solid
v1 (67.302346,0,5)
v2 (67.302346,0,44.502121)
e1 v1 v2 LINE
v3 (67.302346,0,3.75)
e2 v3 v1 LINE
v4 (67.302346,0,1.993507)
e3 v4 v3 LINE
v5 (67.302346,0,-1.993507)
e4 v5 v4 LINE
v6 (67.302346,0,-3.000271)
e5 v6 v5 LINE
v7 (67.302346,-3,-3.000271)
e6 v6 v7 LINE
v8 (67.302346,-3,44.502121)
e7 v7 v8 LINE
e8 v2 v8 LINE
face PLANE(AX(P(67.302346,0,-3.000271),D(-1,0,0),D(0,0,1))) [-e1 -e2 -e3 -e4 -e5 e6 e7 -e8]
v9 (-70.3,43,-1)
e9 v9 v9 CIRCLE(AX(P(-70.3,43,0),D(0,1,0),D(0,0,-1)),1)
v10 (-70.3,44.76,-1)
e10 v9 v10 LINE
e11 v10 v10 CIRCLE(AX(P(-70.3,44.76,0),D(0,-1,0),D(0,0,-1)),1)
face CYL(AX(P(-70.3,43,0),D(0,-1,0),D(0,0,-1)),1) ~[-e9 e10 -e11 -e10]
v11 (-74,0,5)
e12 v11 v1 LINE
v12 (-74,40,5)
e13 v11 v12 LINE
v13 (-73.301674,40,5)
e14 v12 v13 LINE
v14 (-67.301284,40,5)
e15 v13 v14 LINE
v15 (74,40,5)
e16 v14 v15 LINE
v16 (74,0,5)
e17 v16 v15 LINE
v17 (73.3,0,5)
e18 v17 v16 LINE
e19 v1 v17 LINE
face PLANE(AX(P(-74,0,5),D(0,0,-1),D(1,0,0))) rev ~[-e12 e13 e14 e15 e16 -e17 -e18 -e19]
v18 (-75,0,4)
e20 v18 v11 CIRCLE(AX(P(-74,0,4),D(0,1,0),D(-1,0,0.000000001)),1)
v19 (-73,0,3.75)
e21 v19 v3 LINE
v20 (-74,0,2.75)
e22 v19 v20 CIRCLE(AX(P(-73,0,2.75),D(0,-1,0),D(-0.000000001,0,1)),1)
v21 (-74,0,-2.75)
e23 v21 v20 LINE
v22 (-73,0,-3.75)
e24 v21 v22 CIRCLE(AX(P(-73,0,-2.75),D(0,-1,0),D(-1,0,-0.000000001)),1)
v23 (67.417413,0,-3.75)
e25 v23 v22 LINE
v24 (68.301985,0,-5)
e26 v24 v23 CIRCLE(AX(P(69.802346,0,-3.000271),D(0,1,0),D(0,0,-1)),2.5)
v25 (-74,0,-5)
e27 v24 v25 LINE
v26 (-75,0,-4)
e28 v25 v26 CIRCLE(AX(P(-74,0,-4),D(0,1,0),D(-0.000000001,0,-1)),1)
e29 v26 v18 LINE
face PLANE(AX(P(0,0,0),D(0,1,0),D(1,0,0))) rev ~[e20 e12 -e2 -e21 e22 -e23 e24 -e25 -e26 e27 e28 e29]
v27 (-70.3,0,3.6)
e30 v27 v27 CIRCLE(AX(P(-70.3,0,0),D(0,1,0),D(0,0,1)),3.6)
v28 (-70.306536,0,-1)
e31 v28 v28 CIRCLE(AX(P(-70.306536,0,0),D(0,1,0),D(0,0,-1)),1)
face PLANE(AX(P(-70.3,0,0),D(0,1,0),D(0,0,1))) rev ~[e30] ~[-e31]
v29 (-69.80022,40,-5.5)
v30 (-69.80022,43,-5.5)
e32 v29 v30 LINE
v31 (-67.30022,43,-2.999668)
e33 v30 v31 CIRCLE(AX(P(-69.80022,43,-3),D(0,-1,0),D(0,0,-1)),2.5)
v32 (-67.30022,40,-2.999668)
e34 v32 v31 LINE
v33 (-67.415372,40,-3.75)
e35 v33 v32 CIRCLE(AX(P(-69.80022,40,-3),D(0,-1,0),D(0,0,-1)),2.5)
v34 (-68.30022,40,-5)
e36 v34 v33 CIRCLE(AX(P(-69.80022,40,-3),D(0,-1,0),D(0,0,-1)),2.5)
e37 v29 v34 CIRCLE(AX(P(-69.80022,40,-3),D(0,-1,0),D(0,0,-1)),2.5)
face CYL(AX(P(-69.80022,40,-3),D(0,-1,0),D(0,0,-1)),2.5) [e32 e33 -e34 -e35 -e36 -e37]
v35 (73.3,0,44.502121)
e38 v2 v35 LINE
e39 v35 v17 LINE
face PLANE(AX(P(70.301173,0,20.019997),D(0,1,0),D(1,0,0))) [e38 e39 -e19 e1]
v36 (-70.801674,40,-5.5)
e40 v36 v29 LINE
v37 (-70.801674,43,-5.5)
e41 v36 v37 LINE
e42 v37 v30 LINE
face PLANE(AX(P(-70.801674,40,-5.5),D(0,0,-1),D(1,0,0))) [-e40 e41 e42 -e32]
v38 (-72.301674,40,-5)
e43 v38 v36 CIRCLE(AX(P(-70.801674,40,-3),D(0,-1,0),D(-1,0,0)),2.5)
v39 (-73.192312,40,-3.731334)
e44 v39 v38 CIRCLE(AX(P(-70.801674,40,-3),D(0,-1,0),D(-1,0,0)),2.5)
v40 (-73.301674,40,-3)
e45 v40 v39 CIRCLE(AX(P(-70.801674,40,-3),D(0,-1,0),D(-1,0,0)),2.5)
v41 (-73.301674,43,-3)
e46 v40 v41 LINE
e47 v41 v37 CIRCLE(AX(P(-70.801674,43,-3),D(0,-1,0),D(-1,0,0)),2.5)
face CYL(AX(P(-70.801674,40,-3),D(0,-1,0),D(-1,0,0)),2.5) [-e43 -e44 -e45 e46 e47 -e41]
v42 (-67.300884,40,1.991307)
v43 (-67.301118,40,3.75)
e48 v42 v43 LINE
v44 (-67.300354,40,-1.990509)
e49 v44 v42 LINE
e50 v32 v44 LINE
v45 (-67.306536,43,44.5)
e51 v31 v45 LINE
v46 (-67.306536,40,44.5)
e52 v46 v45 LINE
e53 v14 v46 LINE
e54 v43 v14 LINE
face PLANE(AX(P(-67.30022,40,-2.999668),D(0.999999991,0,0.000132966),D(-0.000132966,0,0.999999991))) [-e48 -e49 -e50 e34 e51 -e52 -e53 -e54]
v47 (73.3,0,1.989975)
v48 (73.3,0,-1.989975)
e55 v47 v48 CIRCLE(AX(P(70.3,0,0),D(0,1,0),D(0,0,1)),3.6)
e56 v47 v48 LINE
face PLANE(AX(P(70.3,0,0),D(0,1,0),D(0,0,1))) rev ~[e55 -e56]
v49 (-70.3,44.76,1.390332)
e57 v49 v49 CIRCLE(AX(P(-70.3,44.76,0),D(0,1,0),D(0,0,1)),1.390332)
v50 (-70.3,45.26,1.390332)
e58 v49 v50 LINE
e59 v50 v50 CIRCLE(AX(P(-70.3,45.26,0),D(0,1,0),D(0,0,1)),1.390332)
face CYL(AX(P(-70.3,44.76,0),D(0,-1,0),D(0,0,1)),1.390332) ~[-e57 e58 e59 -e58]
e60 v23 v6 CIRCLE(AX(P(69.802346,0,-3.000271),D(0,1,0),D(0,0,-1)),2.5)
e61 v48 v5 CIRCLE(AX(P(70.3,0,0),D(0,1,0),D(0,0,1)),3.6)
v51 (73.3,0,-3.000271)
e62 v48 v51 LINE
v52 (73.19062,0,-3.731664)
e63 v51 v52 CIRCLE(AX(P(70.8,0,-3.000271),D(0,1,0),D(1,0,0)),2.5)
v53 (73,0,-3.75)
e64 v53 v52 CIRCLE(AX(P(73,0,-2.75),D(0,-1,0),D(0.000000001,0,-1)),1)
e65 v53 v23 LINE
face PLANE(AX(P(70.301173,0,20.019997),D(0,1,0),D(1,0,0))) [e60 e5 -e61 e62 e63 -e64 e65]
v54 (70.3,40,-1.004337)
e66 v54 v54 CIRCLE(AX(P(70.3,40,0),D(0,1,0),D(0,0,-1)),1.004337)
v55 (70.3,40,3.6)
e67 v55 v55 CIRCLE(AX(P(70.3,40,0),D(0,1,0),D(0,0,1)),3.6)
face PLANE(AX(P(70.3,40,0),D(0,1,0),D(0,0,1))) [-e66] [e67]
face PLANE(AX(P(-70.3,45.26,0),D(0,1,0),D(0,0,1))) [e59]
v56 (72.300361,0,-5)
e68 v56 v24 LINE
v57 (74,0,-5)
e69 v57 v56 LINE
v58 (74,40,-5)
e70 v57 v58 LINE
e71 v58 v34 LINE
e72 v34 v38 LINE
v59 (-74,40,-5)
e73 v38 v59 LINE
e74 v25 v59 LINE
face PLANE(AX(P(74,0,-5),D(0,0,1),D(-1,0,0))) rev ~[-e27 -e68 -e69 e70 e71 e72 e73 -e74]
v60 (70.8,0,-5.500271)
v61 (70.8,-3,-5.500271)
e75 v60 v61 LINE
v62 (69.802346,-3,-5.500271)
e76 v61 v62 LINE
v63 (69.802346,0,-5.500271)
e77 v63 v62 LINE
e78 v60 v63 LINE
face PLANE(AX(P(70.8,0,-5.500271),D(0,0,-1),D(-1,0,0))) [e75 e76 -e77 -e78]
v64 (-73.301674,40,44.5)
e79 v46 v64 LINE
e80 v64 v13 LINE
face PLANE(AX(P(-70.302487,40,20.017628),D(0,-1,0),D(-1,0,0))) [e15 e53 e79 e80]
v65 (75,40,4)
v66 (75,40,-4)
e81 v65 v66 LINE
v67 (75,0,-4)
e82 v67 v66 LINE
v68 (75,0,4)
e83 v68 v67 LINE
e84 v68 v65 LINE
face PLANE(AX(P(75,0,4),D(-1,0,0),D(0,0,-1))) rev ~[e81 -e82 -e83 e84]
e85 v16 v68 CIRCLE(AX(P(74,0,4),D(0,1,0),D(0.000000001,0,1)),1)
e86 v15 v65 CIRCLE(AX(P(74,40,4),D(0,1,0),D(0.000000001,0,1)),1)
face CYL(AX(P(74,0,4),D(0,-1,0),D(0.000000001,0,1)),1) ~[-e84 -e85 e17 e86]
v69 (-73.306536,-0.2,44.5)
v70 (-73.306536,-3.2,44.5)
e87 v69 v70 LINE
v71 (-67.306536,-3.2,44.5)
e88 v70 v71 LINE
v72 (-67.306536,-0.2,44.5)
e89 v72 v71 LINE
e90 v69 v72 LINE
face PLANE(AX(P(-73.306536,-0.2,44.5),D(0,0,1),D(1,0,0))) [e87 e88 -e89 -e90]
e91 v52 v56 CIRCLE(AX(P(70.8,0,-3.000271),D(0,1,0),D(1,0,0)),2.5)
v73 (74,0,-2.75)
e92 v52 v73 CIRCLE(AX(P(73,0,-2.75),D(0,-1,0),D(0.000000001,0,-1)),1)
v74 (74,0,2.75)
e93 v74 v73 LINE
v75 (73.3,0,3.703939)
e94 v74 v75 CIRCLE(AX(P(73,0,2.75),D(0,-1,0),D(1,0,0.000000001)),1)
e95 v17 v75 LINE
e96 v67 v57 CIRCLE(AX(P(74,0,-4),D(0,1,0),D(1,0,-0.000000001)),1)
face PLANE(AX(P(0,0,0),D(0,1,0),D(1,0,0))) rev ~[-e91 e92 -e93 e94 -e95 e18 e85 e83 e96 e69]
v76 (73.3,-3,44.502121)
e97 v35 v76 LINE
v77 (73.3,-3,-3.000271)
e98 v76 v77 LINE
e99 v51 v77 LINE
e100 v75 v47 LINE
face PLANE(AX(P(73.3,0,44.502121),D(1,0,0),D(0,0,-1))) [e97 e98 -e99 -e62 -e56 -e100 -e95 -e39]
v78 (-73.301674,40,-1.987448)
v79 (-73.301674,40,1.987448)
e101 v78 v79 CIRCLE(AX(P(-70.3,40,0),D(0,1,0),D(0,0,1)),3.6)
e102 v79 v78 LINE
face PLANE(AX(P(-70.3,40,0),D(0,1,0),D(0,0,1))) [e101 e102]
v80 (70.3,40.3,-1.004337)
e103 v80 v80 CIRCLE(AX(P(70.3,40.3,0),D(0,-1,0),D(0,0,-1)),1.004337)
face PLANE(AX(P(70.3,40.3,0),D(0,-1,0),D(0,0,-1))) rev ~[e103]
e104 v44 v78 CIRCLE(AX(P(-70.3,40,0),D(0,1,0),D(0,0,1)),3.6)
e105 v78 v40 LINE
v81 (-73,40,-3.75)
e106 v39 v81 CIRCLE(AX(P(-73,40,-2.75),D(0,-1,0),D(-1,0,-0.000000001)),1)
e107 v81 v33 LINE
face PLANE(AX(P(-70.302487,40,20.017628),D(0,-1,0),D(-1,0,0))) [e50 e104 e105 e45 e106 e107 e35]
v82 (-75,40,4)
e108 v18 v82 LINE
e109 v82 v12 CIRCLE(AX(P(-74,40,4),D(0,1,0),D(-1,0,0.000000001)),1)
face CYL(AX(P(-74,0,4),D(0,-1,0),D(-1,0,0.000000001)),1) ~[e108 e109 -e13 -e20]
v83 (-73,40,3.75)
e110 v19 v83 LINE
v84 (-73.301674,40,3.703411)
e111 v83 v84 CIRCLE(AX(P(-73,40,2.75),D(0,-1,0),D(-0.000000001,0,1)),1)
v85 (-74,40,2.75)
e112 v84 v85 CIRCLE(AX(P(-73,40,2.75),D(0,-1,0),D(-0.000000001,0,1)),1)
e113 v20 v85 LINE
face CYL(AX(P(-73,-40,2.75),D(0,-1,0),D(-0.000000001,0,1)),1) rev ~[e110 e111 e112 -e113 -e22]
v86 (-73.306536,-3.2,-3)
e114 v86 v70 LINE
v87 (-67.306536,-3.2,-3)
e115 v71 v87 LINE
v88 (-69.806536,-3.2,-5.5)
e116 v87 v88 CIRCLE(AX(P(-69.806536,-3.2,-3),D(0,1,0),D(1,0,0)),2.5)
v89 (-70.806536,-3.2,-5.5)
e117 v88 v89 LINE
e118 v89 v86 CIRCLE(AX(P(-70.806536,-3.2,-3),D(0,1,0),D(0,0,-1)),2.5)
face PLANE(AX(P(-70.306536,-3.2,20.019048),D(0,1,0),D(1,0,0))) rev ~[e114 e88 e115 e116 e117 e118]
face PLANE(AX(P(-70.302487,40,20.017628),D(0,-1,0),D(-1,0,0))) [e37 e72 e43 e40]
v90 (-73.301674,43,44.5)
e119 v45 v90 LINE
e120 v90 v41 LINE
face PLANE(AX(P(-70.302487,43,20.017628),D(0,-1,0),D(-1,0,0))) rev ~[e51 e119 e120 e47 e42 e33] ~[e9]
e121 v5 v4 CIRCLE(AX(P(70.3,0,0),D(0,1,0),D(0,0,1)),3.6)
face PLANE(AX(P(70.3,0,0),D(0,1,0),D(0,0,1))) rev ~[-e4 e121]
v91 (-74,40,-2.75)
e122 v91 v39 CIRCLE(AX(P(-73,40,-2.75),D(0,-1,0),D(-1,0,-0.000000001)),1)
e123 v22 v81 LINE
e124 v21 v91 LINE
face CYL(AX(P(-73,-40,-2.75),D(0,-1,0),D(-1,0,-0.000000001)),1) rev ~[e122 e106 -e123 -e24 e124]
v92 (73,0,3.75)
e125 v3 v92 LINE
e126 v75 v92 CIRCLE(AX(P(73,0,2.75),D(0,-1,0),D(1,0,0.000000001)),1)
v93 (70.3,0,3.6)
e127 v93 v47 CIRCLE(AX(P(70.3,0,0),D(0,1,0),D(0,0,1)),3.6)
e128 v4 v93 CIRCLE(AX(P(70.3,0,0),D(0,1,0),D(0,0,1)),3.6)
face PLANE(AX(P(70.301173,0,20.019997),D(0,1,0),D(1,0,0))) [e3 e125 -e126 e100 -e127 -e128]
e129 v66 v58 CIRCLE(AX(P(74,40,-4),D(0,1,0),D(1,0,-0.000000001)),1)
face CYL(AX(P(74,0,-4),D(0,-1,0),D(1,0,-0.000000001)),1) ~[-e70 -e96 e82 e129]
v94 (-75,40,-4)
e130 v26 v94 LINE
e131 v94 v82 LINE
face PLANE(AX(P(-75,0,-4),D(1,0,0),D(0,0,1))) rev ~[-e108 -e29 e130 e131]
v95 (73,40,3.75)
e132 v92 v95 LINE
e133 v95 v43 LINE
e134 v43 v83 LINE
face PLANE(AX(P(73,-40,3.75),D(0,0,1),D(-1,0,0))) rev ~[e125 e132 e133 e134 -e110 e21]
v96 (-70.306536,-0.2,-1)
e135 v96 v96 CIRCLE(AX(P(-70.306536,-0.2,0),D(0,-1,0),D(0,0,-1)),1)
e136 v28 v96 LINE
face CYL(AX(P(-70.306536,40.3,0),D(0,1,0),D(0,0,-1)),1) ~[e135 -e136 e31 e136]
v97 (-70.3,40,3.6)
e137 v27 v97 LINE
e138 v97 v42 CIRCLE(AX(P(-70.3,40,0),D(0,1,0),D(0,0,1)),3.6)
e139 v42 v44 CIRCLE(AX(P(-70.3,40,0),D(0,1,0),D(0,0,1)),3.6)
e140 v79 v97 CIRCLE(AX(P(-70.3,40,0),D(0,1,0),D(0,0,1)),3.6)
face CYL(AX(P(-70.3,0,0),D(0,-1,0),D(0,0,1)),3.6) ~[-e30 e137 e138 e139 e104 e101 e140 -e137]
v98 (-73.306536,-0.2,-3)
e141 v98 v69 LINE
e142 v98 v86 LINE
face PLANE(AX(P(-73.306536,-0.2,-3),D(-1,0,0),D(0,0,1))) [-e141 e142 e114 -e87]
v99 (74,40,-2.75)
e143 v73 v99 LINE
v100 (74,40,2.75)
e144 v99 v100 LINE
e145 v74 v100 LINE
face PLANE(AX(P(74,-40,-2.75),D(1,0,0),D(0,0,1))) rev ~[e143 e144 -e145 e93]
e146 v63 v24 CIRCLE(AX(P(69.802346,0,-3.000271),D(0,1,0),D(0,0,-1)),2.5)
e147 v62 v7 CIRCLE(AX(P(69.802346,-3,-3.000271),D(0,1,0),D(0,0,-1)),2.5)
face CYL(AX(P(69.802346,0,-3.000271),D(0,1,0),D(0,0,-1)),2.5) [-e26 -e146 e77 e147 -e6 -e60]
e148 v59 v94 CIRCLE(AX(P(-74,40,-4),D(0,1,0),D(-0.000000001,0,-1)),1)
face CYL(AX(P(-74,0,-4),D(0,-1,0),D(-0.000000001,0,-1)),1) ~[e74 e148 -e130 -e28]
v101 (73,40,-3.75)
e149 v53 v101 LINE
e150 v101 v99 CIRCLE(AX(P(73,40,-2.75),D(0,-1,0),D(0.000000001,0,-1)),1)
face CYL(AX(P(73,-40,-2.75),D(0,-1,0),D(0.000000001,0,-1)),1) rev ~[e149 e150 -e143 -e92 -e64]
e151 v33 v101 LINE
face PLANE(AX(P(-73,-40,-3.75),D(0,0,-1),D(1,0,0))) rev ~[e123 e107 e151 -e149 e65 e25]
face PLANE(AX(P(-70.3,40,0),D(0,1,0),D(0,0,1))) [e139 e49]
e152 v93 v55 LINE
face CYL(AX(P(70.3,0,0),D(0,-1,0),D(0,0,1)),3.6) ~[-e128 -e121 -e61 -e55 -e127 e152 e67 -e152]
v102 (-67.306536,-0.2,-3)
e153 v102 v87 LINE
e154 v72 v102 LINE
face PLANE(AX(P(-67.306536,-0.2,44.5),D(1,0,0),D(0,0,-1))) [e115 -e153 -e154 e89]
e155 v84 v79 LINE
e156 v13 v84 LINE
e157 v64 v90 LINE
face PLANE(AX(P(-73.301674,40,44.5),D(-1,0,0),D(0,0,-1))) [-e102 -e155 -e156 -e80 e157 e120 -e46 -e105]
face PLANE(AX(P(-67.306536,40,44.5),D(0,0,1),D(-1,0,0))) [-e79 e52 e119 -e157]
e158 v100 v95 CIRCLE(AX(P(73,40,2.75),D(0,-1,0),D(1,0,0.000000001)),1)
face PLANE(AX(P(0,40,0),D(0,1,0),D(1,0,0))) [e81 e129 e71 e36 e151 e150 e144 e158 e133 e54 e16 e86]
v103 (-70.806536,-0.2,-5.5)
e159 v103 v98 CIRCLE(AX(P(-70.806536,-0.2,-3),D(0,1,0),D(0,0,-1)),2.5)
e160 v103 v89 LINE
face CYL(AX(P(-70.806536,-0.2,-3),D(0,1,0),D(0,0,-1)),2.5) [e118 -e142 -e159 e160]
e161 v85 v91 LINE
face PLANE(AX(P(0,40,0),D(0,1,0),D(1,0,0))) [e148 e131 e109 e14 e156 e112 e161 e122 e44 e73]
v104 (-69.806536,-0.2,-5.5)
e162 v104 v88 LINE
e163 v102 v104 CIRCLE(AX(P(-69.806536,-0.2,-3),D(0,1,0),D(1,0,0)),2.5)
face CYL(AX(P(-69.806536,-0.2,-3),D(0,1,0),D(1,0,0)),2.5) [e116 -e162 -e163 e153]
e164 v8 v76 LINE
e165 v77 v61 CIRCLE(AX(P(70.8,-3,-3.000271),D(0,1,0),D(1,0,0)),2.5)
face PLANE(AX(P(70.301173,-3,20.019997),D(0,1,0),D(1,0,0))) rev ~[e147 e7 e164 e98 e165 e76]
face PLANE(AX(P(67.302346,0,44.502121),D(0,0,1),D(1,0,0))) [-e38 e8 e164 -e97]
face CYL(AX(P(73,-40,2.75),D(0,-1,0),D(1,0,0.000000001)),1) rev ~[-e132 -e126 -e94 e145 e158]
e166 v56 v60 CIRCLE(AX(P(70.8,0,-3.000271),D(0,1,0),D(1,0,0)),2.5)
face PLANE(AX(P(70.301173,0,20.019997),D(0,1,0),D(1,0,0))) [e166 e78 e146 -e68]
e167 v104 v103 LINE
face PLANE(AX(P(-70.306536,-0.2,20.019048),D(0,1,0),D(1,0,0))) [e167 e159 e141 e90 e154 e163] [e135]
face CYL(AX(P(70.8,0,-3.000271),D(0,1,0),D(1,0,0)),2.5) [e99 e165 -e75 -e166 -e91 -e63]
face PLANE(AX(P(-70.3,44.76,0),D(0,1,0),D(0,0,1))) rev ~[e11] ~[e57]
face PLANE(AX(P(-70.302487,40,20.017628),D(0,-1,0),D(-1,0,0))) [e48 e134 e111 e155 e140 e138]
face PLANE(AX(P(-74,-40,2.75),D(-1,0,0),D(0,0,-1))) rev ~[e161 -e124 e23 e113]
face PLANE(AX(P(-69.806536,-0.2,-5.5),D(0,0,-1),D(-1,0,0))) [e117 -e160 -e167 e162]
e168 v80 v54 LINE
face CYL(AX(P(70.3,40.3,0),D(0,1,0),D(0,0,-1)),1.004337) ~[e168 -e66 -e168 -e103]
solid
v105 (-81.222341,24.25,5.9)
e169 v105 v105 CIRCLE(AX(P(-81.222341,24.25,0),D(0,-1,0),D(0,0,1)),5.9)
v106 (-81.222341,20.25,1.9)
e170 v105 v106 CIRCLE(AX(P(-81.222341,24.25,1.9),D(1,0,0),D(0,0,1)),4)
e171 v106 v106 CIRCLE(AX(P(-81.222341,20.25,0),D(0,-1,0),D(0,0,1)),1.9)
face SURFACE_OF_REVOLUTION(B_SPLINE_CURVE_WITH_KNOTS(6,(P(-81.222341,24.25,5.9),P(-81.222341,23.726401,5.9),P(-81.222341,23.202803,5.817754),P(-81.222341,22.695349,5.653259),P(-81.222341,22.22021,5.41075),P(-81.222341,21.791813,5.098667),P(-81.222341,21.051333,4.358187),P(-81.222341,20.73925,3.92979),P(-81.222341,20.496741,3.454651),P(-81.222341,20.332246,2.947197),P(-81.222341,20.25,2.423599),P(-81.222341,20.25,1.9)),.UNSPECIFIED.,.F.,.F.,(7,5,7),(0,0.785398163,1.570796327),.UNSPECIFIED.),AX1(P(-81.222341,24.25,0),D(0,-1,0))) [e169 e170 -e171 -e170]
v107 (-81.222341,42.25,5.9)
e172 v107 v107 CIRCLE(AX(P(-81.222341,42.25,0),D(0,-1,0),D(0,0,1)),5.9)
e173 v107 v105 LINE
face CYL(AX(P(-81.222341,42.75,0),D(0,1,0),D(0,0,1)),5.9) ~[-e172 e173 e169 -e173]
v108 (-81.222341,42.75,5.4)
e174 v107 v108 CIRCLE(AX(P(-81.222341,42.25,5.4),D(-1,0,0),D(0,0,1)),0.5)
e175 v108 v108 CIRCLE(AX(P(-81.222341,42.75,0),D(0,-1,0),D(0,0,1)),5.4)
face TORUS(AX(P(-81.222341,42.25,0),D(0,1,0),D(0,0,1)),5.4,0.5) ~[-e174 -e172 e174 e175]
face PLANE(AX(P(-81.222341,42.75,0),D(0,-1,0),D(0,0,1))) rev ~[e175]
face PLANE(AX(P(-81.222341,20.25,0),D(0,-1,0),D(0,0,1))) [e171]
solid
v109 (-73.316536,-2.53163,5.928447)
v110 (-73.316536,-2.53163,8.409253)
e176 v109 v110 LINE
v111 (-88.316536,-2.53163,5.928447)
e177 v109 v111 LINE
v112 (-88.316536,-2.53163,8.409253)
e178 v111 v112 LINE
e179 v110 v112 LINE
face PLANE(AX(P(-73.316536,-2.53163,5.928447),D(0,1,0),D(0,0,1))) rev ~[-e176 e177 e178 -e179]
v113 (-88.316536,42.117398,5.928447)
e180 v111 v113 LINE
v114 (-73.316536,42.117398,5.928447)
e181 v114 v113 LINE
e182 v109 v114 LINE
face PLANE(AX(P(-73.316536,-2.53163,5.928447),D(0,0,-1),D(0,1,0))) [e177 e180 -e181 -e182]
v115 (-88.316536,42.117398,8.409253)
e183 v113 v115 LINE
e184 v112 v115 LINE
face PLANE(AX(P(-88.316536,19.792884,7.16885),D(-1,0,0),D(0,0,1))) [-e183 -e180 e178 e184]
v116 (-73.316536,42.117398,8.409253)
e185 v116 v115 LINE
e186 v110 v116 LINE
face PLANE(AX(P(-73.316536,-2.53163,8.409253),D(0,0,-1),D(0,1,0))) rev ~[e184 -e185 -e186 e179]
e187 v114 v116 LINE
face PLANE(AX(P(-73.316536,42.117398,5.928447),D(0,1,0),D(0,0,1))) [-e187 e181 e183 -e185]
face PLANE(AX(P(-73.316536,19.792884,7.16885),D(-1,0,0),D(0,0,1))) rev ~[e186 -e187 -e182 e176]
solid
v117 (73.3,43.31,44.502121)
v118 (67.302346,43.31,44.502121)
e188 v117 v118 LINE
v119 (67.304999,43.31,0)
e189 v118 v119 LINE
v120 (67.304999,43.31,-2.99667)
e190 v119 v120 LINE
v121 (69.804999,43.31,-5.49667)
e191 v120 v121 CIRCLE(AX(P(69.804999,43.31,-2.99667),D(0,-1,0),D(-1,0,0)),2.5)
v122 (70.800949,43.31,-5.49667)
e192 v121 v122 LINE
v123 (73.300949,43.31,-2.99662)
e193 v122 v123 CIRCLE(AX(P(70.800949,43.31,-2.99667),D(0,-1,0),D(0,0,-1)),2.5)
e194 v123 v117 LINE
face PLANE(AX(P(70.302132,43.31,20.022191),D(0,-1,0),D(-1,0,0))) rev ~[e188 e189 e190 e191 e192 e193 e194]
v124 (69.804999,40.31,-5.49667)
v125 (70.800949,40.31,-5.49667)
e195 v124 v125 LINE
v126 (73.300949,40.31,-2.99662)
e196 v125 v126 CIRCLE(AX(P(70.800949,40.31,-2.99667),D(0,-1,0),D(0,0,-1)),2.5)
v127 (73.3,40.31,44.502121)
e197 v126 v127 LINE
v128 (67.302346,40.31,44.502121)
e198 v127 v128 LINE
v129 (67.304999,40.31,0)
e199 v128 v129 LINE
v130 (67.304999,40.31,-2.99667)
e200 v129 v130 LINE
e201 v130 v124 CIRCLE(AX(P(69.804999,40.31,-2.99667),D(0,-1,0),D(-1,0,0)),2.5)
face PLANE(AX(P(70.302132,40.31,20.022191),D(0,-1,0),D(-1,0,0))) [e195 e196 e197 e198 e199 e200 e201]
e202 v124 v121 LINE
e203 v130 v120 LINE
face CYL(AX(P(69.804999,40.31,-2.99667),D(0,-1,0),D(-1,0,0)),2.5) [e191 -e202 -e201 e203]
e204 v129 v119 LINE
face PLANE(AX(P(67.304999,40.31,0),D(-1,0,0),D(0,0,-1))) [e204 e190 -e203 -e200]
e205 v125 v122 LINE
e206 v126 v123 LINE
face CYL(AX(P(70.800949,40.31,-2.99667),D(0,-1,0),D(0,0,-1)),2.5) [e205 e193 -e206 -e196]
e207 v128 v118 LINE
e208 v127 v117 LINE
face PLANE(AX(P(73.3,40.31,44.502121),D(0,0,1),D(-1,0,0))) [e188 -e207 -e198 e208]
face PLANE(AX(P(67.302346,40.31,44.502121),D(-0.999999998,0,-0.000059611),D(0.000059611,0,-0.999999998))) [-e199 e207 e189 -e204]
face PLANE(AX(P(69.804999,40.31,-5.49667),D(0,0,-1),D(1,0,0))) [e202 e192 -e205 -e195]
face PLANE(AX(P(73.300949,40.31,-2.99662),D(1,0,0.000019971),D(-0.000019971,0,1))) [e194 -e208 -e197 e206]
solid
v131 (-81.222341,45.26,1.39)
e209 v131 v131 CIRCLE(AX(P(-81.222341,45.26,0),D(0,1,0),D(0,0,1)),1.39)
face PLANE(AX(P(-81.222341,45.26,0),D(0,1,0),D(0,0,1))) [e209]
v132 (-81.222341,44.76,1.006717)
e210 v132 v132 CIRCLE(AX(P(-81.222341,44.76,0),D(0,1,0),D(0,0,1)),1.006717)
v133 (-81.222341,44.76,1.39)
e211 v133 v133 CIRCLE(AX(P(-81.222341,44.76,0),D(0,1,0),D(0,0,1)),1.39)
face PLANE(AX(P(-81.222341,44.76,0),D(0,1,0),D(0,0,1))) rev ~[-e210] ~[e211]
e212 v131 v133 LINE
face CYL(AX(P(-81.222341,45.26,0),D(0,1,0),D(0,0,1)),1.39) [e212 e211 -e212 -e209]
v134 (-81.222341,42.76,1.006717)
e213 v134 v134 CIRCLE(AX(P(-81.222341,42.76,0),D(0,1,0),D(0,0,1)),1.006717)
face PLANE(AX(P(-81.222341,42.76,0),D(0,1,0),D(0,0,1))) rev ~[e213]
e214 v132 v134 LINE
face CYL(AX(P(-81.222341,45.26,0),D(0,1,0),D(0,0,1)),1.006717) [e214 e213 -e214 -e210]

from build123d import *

# Parameters (mm, degrees)
SALIENTE_EXTRUIR1_DEPTH       = 40
CORTAR_EXTRUIR5_DEPTH         = 40
CORTAR_EXTRUIR5_DEPTH_BACK    = 40
CROQUIS6_R                    = 3.6
SALIENTE_EXTRUIR2_DEPTH       = 40
SALIENTE_EXTRUIR3_DEPTH       = 0.2
SALIENTE_EXTRUIR3_DEPTH_BACK  = 40.3
CROQUIS7_R                    = 1.004336789
CROQUIS8_R                    = 3.6
SALIENTE_EXTRUIR4_DEPTH       = 40
SALIENTE_EXTRUIR5_DEPTH       = 0.2
SALIENTE_EXTRUIR5_DEPTH_BACK  = 40.3
CROQUIS9_R                    = 1
SALIENTE_EXTRUIR7_DEPTH       = 3
SALIENTE_EXTRUIR8_DEPTH       = 3
SALIENTE_EXTRUIR9_DEPTH       = 3
SALIENTE_EXTRUIR10_DEPTH      = 3
CROQUIS15_R                   = 1
SALIENTE_EXTRUIR11_DEPTH      = 2
SALIENTE_EXTRUIR12_DEPTH      = 0.25
SALIENTE_EXTRUIR12_DEPTH_BACK = 0.25
CROQUIS16_R                   = 1.390331977
CROQUIS17_W                   = 2.480806326
CROQUIS17_H                   = 44.649028396
SALIENTE_EXTRUIR13_DEPTH      = 15
CROQUIS18_R                   = 1.39
SALIENTE_EXTRUIR14_DEPTH      = 0.5
CROQUIS19_R                   = 1.006716992
SALIENTE_EXTRUIR15_DEPTH      = 2.5
CROQUIS20_R                   = 5.9
SALIENTE_EXTRUIR17_DEPTH      = 22.5
REDONDEO2_R                   = 4
REDONDEO4_R                   = 0.5


with BuildPart() as part:
    # Croquis1 → Saliente-Extruir1 (new body)
    with BuildSketch(Plane(origin=(0, 0, 0), x_dir=(1, 0, 0), z_dir=(0, 1, 0))):
        with BuildLine():
            Line((-74, -5), (74, -5))
            ThreePointArc((74, -5), (74.707106781, -4.707106781), (75, -4))
            Line((75, -4), (75, 4))
            ThreePointArc((75, 4), (74.707106781, 4.707106781), (74, 5))
            Line((74, 5), (-74, 5))
            ThreePointArc((-74, 5), (-74.707106781, 4.707106781), (-75, 4))
            Line((-75, 4), (-75, -4))
            ThreePointArc((-75, -4), (-74.707106781, -4.707106781), (-74, -5))
        make_face()
    extrude(amount=SALIENTE_EXTRUIR1_DEPTH)

    # Croquis5 → Cortar-Extruir5 (cut, two sides: drawn at the far end of the back side and taken through both)
    with BuildSketch(Plane(origin=(0, 0, 0), x_dir=(1, 0, 0), z_dir=(0, 1, 0)).offset(-CORTAR_EXTRUIR5_DEPTH_BACK)):
        with BuildLine():
            Line((73, -3.75), (-73, -3.75))
            ThreePointArc((-73, -3.75), (-73.707106781, -3.457106781), (-74, -2.75))
            Line((-74, -2.75), (-74, 2.75))
            ThreePointArc((-74, 2.75), (-73.707106781, 3.457106781), (-73, 3.75))
            Line((-73, 3.75), (73, 3.75))
            ThreePointArc((73, 3.75), (73.707106781, 3.457106781), (74, 2.75))
            Line((74, 2.75), (74, -2.75))
            ThreePointArc((74, -2.75), (73.707106781, -3.457106781), (73, -3.75))
        make_face()
    extrude(amount=CORTAR_EXTRUIR5_DEPTH + CORTAR_EXTRUIR5_DEPTH_BACK, mode=Mode.SUBTRACT)



with BuildPart() as body_2:
    # Croquis6 → Saliente-Extruir2 (new body)
    with BuildSketch(Plane(origin=(0, 0, 0), x_dir=(1, 0, 0), z_dir=(0, 1, 0))):
        with Locations((70.3, 0)):
            Circle(CROQUIS6_R)
    extrude(amount=SALIENTE_EXTRUIR2_DEPTH)

    # Croquis7 → Saliente-Extruir3 (add, two sides: drawn at the far end of the back side and taken through both)
    with BuildSketch(Plane(origin=(0, 0, 0), x_dir=(-1, 0, 0), z_dir=(0, -1, 0)).offset(-SALIENTE_EXTRUIR3_DEPTH_BACK)):
        with Locations((-70.3, 0)):
            Circle(CROQUIS7_R)
    extrude(amount=SALIENTE_EXTRUIR3_DEPTH + SALIENTE_EXTRUIR3_DEPTH_BACK)


with BuildPart() as body_3:
    # Croquis8 → Saliente-Extruir4 (new body)
    with BuildSketch(Plane(origin=(0, 0, 0), x_dir=(1, 0, 0), z_dir=(0, 1, 0))):
        with Locations((-70.3, 0)):
            Circle(CROQUIS8_R)
    extrude(amount=SALIENTE_EXTRUIR4_DEPTH)

    # Croquis9 → Saliente-Extruir5 (add, two sides: drawn at the far end of the back side and taken through both)
    with BuildSketch(Plane(origin=(0, 0, 0), x_dir=(-1, 0, 0), z_dir=(0, -1, 0)).offset(-SALIENTE_EXTRUIR5_DEPTH_BACK)):
        with Locations((70.306536117, 0)):
            Circle(CROQUIS9_R)
    extrude(amount=SALIENTE_EXTRUIR5_DEPTH + SALIENTE_EXTRUIR5_DEPTH_BACK)

    # Croquis11 → Saliente-Extruir7 (add)
    with BuildSketch(Plane(origin=(0, -0.2, 0), x_dir=(-1, 0, 0), z_dir=(0, -1, 0))):
        with BuildLine():
            Line((67.306536117, 0), (67.306536117, 3))
            ThreePointArc((67.306536117, 3), (68.038769164, 4.767766953), (69.806536117, 5.5))
            Line((69.806536117, 5.5), (70.806536117, 5.5))
            ThreePointArc((70.806536117, 5.5), (72.57430307, 4.767766953), (73.306536117, 3))
            Line((73.306536117, 3), (73.306536117, 0))
            Line((73.306536117, 0), (73.306536117, -44.5))
            Line((73.306536117, -44.5), (67.306536117, -44.5))
            Line((67.306536117, -44.5), (67.306536117, 0))
        make_face()
    extrude(amount=SALIENTE_EXTRUIR7_DEPTH)


with BuildPart() as part_1:
    add(part.part)

    add(body_2.part)  # Saliente-Extruir8 merges body 2
    # Croquis12 → Saliente-Extruir8 (add)
    with BuildSketch(Plane(origin=(0, 0, 0), x_dir=(-1, 0, 0), z_dir=(0, -1, 0))):
        with BuildLine():
            Line((-73.3, 0), (-73.3, 3.000270976))
            ThreePointArc((-73.3, 3.000270976), (-72.567766953, 4.768037929), (-70.8, 5.500270976))
            Line((-70.8, 5.500270976), (-69.802345903, 5.500270976))
            ThreePointArc((-69.802345903, 5.500270976), (-68.03457895, 4.768037929), (-67.302345903, 3.000270976))
            Line((-67.302345903, 3.000270976), (-67.302345903, 0))
            Line((-67.302345903, 0), (-67.302345903, -44.502121213))
            Line((-67.302345903, -44.502121213), (-73.3, -44.502121213))
            Line((-73.3, -44.502121213), (-73.3, 0))
        make_face()
    extrude(amount=SALIENTE_EXTRUIR8_DEPTH)


    add(body_3.part)  # Saliente-Extruir10 merges body 3
    # Croquis14 → Saliente-Extruir10 (add)
    with BuildSketch(Plane(origin=(0, 40, 0), x_dir=(1, 0, 0), z_dir=(0, 1, 0))):
        with BuildLine():
            Line((-73.301674295, 0), (-73.301674295, 3))
            ThreePointArc((-73.301674295, 3), (-72.569441248, 4.767766953), (-70.801674295, 5.5))
            Line((-70.801674295, 5.5), (-69.800220238, 5.5))
            ThreePointArc((-69.800220238, 5.5), (-68.032335762, 4.767649422), (-67.30022026, 2.999667584))
            Line((-67.30022026, 2.999667584), (-67.306536117, -44.5))
            Line((-67.306536117, -44.5), (-73.301674295, -44.5))
            Line((-73.301674295, -44.5), (-73.301674295, 0))
        make_face()
    extrude(amount=SALIENTE_EXTRUIR10_DEPTH)

    # Croquis15 → Saliente-Extruir11 (add)
    with BuildSketch(Plane(origin=(0, 43, 0), x_dir=(1, 0, 0), z_dir=(0, 1, 0))):
        with Locations((-70.3, 0)):
            Circle(CROQUIS15_R)
    extrude(amount=SALIENTE_EXTRUIR11_DEPTH)

    # Croquis16 → Saliente-Extruir12 (add, two sides: drawn at the far end of the back side and taken through both)
    with BuildSketch(Plane(origin=(0, 45.01, 0), x_dir=(1, 0, 0), z_dir=(0, 1, 0)).offset(-SALIENTE_EXTRUIR12_DEPTH_BACK)):
        with Locations((-70.3, 0)):
            Circle(CROQUIS16_R)
    extrude(amount=SALIENTE_EXTRUIR12_DEPTH + SALIENTE_EXTRUIR12_DEPTH_BACK)


with BuildPart() as body_3_2:
    # Croquis13 → Saliente-Extruir9 (new body)
    with BuildSketch(Plane(origin=(0, 40.31, 0), x_dir=(1, 0, 0), z_dir=(0, 1, 0))):
        with BuildLine():
            Line((67.304998702, 0), (67.304998702, 2.996670167))
            ThreePointArc((67.304998702, 2.996670167), (68.037231749, 4.76443712), (69.804998702, 5.496670167))
            Line((69.804998702, 5.496670167), (70.800948612, 5.496670167))
            ThreePointArc((70.800948612, 5.496670167), (72.568733217, 4.764419468), (73.300948612, 2.996620239))
            Line((73.300948612, 2.996620239), (73.3, -44.502121213))
            Line((73.3, -44.502121213), (67.302345903, -44.502121213))
            Line((67.302345903, -44.502121213), (67.304998702, 0))
        make_face()
    extrude(amount=SALIENTE_EXTRUIR9_DEPTH)


with BuildPart() as body_3_3:
    # Croquis17 → Saliente-Extruir13 (new body)
    with BuildSketch(Plane.ZY.offset(73.316536117)):
        with Locations((7.168850189, 19.792884291)):
            Rectangle(CROQUIS17_W, CROQUIS17_H)
    extrude(amount=SALIENTE_EXTRUIR13_DEPTH)


with BuildPart() as body_4:
    # Croquis18 → Saliente-Extruir14 (new body)
    with BuildSketch(Plane(origin=(0, 45.26, 0), x_dir=(1, 0, 0), z_dir=(0, 1, 0))):
        with Locations((-81.222340587, 0)):
            Circle(CROQUIS18_R)
    extrude(amount=-SALIENTE_EXTRUIR14_DEPTH)

    # Croquis19 → Saliente-Extruir15 (add)
    with BuildSketch(Plane(origin=(0, 45.26, 0), x_dir=(1, 0, 0), z_dir=(0, 1, 0))):
        with Locations((-81.222340587, 0)):
            Circle(CROQUIS19_R)
    extrude(amount=-SALIENTE_EXTRUIR15_DEPTH)


with BuildPart() as body_5:
    # Croquis20 → Saliente-Extruir17 (new body)
    with BuildSketch(Plane(origin=(0, 42.75, 0), x_dir=(-1, 0, 0), z_dir=(0, -1, 0))):
        with Locations((81.222340587, 0)):
            Circle(CROQUIS20_R)
    extrude(amount=SALIENTE_EXTRUIR17_DEPTH)

    # Redondeo2
    redondeo2_edges = [body_5.edges().sort_by_distance(p)[0] for p in [
        (-75.322340587, 20.25, 0),
    ]]
    fillet(redondeo2_edges, radius=REDONDEO2_R)

    # Redondeo4
    redondeo4_edges = [body_5.edges().sort_by_distance(p)[0] for p in [
        (-75.322340587, 42.75, 0),
    ]]
    fillet(redondeo4_edges, radius=REDONDEO4_R)


solid = Compound([part_1.part, body_3_2.part, body_3_3.part, body_4.part, body_5.part])
